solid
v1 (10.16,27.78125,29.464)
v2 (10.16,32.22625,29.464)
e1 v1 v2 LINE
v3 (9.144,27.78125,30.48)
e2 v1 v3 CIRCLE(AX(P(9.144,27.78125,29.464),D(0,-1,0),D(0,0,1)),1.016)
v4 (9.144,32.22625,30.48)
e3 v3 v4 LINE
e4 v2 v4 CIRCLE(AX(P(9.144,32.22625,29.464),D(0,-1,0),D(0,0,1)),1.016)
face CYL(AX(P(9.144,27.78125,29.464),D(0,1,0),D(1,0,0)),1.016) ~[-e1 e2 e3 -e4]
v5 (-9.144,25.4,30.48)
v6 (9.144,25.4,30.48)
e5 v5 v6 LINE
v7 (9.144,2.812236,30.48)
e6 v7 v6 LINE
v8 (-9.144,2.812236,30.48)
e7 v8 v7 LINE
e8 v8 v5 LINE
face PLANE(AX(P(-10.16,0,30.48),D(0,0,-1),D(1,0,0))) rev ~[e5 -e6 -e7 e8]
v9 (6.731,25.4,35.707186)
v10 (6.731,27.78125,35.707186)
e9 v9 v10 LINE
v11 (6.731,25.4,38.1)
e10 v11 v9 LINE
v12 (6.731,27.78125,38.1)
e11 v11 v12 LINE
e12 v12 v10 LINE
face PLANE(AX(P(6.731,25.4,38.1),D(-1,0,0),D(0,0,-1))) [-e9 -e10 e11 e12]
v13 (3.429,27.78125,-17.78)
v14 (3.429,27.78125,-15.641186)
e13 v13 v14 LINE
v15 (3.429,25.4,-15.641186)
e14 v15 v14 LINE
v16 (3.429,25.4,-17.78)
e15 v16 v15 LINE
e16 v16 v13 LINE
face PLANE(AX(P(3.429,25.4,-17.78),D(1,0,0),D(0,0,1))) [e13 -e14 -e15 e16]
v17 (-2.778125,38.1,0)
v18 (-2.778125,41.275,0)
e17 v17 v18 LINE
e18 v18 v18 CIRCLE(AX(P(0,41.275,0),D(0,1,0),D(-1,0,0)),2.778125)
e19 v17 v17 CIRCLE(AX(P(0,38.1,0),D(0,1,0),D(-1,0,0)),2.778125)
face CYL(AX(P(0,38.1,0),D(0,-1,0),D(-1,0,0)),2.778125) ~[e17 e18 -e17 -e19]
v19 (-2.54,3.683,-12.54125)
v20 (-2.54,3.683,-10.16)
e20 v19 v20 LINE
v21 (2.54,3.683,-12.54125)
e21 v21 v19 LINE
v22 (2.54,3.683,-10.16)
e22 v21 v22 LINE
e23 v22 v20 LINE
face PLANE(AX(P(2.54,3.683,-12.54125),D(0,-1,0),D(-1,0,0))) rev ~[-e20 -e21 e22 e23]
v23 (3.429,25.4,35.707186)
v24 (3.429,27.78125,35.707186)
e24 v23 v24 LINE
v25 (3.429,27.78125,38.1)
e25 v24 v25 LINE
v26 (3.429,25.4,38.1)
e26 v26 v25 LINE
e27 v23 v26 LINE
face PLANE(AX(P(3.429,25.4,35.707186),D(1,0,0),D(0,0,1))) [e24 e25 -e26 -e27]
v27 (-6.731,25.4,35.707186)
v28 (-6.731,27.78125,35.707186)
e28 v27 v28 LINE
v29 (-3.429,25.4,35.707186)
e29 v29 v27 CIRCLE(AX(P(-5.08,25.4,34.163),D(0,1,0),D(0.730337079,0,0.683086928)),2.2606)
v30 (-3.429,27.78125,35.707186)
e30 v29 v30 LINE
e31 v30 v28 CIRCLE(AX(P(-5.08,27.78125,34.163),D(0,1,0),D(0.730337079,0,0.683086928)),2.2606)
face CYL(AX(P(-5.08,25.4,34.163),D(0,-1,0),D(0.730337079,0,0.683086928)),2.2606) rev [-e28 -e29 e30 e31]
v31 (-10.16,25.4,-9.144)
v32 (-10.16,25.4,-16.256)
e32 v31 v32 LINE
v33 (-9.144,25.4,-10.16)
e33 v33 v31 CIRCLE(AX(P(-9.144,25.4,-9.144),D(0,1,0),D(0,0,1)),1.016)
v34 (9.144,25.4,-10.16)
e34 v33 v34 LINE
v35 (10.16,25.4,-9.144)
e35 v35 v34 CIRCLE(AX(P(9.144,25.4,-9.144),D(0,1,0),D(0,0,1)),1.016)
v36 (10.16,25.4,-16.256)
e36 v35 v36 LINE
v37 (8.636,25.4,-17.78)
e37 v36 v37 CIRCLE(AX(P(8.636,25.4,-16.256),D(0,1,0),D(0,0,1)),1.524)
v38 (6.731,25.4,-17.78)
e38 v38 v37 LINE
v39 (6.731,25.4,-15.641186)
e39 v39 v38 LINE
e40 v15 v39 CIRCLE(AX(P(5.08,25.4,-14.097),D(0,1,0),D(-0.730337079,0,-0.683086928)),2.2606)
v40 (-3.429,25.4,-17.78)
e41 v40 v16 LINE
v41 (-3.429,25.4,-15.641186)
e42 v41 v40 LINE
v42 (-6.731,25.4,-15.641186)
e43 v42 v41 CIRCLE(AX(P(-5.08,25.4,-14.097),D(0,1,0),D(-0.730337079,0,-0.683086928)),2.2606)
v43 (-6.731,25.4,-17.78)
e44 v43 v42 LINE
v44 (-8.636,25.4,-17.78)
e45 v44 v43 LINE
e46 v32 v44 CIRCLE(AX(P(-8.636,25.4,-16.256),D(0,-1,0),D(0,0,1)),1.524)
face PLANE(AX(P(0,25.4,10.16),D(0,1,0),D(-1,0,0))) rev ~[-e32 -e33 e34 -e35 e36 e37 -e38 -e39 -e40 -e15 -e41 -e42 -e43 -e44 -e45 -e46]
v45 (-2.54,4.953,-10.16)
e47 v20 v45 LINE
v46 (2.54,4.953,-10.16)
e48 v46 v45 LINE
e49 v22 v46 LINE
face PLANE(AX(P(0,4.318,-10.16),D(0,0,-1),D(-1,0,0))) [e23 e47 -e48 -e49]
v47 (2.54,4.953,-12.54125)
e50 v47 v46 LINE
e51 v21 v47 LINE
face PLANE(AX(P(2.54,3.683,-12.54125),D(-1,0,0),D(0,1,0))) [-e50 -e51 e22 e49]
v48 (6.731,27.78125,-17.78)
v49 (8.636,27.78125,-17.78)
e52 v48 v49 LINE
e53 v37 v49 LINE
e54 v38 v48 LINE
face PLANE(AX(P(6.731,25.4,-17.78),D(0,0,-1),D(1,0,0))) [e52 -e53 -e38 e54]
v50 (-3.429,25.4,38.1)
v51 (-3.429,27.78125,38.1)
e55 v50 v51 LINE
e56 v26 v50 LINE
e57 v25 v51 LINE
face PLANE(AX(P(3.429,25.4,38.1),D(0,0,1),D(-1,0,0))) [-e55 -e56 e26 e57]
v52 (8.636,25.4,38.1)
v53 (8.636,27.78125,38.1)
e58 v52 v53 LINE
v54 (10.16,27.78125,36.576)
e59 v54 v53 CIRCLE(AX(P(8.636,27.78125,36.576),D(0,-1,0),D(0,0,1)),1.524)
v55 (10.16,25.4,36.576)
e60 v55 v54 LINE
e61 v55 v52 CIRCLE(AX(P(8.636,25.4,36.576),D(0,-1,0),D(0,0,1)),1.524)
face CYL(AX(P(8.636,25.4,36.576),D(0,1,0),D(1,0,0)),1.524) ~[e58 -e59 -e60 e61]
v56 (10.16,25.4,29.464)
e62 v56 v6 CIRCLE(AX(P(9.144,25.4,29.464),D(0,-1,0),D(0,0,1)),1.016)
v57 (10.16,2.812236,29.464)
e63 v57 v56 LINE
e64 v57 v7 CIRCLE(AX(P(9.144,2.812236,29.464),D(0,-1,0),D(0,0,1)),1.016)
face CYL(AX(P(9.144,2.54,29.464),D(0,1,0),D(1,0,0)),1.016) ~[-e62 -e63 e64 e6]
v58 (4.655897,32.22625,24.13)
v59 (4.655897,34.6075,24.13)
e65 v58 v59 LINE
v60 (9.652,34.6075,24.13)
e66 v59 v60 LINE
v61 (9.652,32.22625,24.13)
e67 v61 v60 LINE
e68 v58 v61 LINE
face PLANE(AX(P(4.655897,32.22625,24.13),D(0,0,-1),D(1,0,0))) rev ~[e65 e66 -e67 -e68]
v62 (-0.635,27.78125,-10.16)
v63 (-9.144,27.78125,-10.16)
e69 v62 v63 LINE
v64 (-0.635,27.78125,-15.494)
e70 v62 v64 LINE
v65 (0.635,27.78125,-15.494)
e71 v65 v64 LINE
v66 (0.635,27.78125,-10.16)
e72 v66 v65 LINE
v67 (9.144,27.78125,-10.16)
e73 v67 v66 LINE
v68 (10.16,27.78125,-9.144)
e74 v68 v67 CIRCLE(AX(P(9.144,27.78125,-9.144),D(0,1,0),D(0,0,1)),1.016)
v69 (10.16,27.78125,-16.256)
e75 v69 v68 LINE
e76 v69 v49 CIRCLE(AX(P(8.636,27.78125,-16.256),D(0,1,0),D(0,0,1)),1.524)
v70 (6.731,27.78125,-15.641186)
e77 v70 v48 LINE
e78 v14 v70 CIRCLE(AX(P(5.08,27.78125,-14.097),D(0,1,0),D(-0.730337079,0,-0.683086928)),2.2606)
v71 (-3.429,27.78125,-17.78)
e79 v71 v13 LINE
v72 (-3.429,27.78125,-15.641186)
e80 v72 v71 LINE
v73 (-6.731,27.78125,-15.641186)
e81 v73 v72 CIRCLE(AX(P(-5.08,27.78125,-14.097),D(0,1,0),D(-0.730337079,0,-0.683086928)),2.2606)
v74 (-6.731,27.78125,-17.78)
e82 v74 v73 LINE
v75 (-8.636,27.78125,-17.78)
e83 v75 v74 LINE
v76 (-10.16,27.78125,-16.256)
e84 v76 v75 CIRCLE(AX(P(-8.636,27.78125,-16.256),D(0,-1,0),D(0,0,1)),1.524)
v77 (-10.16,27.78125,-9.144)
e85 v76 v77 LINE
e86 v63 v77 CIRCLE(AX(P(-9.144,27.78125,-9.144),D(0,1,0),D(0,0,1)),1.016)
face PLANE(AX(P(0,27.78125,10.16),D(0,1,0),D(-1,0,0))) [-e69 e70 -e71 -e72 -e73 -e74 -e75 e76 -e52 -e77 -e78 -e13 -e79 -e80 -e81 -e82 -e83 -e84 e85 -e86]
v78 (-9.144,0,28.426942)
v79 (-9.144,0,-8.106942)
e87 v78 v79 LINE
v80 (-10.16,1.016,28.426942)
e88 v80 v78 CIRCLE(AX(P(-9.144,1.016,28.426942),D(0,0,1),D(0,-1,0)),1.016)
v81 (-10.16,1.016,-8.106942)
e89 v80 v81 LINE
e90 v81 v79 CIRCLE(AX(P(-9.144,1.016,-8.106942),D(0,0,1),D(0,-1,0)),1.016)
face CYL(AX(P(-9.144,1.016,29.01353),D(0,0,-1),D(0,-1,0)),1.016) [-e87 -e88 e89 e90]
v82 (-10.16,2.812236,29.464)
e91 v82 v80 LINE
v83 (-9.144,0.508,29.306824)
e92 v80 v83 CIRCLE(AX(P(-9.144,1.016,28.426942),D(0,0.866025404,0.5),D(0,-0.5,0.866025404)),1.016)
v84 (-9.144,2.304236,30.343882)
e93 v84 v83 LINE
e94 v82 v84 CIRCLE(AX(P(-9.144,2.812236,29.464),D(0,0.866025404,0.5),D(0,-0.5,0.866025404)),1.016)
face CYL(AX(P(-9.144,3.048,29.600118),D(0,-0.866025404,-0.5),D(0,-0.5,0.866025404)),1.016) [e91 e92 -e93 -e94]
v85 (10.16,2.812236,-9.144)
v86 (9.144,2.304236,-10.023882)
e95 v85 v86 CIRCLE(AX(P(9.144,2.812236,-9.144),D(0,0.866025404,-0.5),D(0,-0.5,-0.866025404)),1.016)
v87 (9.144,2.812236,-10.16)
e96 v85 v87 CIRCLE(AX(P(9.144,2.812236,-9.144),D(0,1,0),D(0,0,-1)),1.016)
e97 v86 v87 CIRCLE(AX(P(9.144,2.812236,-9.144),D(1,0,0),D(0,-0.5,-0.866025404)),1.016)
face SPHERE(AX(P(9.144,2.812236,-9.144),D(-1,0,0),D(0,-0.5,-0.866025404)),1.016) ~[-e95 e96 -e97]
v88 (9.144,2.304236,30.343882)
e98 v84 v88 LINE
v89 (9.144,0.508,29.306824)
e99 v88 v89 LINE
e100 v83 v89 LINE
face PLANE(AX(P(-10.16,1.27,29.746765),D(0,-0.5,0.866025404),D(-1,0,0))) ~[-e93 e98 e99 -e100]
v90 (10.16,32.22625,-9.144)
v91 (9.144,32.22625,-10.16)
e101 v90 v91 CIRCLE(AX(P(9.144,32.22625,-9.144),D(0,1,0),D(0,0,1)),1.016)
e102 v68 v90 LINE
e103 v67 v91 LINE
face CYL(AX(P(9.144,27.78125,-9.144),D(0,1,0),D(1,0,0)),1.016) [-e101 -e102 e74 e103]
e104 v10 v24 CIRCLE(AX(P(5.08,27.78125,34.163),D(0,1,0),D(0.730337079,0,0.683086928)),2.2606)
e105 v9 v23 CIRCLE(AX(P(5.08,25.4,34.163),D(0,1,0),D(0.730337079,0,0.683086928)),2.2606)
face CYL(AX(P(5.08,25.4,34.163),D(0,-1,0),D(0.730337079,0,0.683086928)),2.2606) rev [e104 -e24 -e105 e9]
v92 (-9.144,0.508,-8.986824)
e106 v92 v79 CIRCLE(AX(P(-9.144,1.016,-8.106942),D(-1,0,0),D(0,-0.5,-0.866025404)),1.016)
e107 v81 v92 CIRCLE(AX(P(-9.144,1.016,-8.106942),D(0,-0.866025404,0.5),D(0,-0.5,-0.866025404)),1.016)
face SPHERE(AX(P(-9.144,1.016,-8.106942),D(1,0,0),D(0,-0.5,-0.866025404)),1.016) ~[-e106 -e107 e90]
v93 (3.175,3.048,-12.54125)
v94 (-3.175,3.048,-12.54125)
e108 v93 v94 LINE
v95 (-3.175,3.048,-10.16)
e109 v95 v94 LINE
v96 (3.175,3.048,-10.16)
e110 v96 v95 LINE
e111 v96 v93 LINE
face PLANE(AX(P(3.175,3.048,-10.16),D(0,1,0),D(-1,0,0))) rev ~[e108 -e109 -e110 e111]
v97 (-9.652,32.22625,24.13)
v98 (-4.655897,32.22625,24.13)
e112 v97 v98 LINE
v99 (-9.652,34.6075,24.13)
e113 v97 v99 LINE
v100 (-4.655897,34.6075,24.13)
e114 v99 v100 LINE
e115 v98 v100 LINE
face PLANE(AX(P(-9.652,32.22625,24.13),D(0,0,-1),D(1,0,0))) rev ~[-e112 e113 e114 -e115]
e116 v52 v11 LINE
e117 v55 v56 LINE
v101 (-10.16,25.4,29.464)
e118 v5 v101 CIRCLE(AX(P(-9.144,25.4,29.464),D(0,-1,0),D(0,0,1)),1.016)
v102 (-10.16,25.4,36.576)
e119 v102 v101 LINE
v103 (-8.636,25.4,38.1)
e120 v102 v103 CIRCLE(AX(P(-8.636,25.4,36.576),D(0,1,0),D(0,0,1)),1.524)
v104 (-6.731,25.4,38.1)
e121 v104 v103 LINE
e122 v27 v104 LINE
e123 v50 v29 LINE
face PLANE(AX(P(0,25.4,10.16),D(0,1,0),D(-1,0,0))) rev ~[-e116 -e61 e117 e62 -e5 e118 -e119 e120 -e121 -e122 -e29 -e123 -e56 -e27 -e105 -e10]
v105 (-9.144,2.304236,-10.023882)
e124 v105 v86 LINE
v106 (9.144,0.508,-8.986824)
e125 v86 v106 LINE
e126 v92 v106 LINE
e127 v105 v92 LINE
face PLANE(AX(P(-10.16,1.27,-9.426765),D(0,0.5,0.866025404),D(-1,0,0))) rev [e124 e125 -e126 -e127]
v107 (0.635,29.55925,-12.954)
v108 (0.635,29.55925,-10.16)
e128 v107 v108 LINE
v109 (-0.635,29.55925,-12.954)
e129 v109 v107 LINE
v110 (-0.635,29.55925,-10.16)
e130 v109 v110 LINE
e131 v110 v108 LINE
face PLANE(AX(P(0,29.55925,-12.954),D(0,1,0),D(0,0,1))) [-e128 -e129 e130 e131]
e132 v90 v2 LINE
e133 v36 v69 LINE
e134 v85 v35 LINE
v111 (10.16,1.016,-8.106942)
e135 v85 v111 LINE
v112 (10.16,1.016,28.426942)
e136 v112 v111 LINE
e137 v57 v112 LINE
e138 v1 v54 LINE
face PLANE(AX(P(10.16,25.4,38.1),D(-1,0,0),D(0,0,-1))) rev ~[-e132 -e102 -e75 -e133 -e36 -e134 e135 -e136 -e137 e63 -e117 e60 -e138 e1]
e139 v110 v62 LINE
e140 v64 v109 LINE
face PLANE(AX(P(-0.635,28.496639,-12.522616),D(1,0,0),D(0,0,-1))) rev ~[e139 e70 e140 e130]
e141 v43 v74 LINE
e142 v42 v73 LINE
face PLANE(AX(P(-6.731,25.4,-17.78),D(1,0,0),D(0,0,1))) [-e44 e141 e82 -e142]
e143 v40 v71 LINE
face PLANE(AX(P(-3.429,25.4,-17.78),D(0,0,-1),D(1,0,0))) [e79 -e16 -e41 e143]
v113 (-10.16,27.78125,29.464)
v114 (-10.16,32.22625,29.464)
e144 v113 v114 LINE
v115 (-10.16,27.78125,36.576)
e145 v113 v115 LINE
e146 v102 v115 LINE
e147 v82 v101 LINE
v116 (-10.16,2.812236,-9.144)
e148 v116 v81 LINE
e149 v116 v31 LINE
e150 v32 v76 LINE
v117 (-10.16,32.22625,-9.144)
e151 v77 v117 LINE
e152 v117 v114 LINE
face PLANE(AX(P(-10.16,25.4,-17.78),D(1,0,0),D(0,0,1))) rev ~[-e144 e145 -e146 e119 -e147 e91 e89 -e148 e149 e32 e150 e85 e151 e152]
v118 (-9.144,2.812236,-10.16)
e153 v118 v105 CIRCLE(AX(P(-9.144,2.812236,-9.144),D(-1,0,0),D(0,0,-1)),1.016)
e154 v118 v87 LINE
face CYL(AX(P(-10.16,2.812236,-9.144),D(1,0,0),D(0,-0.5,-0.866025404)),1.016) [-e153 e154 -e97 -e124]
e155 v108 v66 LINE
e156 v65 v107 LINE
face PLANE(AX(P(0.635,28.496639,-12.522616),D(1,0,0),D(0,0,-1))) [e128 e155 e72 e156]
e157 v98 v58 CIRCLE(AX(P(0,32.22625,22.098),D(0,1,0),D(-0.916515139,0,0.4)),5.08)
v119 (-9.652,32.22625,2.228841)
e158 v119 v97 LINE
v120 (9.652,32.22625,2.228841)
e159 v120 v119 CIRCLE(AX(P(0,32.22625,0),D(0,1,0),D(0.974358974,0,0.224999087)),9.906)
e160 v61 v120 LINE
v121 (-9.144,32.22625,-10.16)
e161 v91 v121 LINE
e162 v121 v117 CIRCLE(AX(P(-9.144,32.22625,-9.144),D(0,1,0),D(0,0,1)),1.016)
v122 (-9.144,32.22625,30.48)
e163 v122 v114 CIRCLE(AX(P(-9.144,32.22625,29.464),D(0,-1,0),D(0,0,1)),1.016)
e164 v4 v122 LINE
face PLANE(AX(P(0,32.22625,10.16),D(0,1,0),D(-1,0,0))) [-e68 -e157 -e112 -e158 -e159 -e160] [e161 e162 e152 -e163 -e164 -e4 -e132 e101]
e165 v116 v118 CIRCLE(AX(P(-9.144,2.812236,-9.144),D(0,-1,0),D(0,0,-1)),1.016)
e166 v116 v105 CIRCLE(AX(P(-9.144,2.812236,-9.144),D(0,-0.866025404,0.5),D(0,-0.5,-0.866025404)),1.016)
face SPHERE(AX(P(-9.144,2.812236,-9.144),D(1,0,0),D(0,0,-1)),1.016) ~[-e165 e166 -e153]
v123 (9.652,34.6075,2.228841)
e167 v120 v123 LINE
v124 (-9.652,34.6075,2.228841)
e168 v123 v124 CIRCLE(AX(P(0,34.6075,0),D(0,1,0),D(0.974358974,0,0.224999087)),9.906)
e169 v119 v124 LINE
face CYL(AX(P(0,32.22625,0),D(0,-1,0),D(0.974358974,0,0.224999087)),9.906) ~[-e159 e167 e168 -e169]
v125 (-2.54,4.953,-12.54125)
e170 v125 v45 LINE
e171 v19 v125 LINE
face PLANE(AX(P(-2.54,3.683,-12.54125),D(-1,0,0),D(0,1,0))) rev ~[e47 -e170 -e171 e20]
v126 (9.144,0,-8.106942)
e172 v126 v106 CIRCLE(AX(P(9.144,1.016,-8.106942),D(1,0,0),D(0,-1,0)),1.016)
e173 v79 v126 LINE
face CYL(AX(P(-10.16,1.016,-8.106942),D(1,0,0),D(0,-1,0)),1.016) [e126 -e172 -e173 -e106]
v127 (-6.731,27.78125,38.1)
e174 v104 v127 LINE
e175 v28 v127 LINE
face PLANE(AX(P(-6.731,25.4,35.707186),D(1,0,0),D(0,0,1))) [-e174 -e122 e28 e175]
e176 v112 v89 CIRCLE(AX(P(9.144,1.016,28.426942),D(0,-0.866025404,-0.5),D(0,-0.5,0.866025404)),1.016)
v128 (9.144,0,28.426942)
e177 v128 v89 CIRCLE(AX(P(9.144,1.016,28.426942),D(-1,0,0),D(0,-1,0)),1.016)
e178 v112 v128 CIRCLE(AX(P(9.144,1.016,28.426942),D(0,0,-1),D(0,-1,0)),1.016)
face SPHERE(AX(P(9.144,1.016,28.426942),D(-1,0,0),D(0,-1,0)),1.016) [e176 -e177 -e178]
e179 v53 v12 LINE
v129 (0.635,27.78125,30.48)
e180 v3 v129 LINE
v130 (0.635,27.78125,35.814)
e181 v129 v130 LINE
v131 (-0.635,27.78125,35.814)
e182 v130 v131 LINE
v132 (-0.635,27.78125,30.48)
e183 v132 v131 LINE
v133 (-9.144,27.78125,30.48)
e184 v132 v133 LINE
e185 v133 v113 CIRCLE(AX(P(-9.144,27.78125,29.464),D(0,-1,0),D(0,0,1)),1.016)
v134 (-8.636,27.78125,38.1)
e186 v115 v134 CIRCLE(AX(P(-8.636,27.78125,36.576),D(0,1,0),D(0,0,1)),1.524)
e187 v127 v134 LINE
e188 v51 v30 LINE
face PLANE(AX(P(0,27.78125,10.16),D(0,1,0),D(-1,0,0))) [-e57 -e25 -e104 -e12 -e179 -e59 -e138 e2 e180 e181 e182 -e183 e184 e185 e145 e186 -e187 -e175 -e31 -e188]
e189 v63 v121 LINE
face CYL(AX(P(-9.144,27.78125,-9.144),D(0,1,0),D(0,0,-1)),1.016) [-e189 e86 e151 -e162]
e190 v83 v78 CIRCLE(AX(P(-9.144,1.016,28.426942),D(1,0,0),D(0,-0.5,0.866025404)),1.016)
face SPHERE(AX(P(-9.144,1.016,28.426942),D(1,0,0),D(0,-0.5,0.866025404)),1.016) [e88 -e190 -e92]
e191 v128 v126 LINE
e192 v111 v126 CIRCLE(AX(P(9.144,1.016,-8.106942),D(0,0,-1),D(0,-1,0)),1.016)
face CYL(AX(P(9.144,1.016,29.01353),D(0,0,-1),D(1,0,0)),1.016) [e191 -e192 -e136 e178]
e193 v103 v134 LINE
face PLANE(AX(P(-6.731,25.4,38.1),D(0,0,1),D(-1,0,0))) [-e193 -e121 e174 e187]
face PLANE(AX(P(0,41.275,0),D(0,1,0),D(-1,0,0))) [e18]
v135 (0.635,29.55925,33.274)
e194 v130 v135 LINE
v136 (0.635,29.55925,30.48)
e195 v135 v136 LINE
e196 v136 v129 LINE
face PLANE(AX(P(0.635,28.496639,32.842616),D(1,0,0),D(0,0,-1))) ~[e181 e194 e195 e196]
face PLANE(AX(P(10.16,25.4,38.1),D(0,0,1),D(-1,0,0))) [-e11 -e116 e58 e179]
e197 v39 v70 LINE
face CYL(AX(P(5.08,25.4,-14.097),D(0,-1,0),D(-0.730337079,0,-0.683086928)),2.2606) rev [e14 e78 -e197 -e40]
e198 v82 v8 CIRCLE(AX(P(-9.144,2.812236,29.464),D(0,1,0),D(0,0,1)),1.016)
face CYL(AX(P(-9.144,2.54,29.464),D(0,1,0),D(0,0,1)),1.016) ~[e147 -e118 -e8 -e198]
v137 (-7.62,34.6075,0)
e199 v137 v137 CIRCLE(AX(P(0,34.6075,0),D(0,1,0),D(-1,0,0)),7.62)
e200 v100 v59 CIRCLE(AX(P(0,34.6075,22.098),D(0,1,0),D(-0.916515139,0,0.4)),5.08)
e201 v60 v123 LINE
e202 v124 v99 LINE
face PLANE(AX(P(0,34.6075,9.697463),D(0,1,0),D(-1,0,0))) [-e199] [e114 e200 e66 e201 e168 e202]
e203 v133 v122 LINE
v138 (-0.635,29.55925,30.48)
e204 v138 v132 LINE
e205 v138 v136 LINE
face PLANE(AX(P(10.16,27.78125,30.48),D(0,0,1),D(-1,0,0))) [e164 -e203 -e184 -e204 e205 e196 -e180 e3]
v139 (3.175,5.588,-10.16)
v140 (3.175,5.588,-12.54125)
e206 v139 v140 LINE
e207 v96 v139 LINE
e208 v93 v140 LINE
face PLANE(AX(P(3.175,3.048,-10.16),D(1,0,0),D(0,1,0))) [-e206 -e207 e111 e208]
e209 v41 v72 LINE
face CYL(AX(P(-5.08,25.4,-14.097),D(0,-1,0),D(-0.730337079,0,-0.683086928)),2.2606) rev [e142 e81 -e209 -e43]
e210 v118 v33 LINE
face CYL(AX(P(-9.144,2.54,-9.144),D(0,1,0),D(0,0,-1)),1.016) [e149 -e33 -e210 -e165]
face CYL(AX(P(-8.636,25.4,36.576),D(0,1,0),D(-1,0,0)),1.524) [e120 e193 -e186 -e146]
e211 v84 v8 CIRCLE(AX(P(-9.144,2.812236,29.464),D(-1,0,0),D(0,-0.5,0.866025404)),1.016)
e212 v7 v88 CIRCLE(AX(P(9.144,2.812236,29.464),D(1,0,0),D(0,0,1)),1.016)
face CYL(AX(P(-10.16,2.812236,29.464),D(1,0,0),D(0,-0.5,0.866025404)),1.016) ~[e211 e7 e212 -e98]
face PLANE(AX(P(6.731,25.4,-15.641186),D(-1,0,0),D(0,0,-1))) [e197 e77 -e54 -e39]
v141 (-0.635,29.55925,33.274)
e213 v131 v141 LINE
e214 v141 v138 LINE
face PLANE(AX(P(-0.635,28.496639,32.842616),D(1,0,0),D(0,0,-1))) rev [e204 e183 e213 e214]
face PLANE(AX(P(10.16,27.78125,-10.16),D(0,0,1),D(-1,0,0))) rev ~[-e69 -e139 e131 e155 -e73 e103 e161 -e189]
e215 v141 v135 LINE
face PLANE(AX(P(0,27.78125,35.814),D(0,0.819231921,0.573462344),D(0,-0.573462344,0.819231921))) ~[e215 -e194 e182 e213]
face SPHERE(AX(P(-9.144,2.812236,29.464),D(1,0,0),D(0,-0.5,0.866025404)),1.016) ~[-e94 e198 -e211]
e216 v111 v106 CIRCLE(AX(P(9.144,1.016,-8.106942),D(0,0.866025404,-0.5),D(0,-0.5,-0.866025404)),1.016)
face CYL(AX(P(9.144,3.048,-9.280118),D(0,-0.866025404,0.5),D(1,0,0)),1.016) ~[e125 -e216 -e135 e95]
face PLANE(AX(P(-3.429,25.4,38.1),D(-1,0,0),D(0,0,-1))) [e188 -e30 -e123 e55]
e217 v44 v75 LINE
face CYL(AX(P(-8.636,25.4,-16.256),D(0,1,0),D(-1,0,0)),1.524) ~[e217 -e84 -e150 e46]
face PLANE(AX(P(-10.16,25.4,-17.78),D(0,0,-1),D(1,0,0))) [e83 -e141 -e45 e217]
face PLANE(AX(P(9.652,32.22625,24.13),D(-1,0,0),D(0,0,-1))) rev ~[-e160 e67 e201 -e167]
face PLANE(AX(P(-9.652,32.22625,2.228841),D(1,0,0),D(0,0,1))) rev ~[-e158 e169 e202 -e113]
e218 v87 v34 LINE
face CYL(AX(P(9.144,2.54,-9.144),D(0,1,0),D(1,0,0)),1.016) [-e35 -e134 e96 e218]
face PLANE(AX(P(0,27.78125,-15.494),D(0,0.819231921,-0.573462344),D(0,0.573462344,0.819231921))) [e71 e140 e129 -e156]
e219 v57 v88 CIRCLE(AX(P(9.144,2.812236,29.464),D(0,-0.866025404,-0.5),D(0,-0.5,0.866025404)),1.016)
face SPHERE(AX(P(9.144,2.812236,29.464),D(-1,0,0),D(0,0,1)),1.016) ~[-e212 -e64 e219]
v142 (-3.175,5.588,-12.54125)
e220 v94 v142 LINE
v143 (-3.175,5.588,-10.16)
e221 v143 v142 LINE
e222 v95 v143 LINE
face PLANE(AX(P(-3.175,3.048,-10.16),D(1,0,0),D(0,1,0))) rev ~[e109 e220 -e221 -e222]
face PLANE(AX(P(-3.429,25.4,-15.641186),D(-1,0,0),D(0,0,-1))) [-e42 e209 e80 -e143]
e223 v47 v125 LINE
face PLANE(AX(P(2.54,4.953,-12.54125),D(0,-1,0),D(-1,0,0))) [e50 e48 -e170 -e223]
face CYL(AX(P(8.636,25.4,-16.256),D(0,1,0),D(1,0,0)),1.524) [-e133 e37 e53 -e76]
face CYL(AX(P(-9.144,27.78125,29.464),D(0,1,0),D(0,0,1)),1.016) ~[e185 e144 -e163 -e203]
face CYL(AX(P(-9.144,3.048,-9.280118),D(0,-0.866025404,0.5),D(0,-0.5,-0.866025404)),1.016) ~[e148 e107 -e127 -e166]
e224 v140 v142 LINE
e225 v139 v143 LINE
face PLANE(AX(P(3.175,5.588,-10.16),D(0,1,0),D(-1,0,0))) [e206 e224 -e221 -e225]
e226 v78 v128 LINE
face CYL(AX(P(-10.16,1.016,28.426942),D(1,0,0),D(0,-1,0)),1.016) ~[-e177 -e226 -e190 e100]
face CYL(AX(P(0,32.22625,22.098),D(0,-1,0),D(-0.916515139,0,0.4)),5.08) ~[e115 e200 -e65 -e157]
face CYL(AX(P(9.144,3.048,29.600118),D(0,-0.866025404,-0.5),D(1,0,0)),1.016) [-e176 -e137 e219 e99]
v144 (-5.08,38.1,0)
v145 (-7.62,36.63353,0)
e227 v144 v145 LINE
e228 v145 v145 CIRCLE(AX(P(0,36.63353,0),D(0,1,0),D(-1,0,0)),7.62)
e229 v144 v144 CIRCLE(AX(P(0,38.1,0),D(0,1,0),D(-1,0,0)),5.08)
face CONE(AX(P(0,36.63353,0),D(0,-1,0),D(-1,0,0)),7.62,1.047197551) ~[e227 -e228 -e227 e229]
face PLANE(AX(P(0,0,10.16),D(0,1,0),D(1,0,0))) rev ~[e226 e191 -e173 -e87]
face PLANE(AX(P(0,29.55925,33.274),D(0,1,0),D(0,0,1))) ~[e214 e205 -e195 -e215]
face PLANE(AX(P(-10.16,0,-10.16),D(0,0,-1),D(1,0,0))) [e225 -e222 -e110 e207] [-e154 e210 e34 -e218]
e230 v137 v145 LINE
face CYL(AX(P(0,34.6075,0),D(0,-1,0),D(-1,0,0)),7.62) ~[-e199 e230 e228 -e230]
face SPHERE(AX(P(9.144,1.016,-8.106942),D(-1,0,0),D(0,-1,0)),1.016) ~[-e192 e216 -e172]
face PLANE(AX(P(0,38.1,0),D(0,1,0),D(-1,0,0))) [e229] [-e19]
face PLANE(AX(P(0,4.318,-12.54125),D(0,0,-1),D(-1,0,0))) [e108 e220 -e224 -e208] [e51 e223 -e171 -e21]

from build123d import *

# Parameters (mm, degrees)
SKETCH1_W             = 20.32
SKETCH1_H             = 40.64
EXTRUDE1_DEPTH        = 25.4
SKETCH2_W             = 20.32
SKETCH2_H             = 40.64
EXTRUDE2_DEPTH        = 2.38125
SKETCH3_W             = 20.32
SKETCH3_H             = 40.64
EXTRUDE3_DEPTH        = 4.445
EXTRUDE4_DEPTH        = 2.38125
SKETCH5_R             = 7.62
EXTRUDE5_DEPTH        = 3.4925
CHAMFER1_SIZE         = 2.54
CHAMFER1_SIZE2        = 1.466469684
EXTRUDE6_DEPTH        = 0.635
SKETCH8_R             = 2.778125
EXTRUDE7_DEPTH        = 3.175
CHAMFER2_SIZE         = 2.54
CHAMFER2_SIZE2        = 1.466469684
CHAMFER2_PART_2_SIZE  = 2.54
CHAMFER2_PART_2_SIZE2 = 1.466469684
FILLET1_R             = 1.016
FILLET2_R             = 1.524
SKETCH9_W             = 6.35
SKETCH9_H             = 2.54
EXTRUDE8_DEPTH        = 2.38125
SKETCH10_W            = 5.08
SKETCH10_H            = 1.27
CUT_EXTRUDE1_DEPTH    = 2.38125


with BuildPart() as part:
    # Sketch1 → Extrude1 (new body)
    with BuildSketch(Plane(origin=(0, 0, 0), x_dir=(1, 0, 0), z_dir=(0, 1, 0))):
        with Locations((0, -10.16)):
            Rectangle(SKETCH1_W, SKETCH1_H)
    extrude(amount=EXTRUDE1_DEPTH)

    # Sketch2 → Extrude2 (add)
    with BuildSketch(Plane(origin=(0, 25.4, 0), x_dir=(-1, 0, 0), z_dir=(0, 1, 0))):
        with Locations((0, 10.16)):
            Rectangle(SKETCH2_W, SKETCH2_H)
        with BuildLine():
            ThreePointArc((6.731, -15.64118631), (5.08, -11.8364), (3.429, -15.64118631))
            Line((3.429, -15.64118631), (3.429, -17.78))
            Line((3.429, -17.78), (-3.429, -17.78))
            Line((-3.429, -17.78), (-3.429, -15.64118631))
            ThreePointArc((-3.429, -15.64118631), (-5.08, -11.8364), (-6.731, -15.64118631))
            Line((-6.731, -15.64118631), (-6.731, -17.78))
            Line((-6.731, -17.78), (-10.16, -17.78))
            Line((-10.16, -17.78), (-10.16, -10.16))
            Line((-10.16, -10.16), (10.16, -10.16))
            Line((10.16, -10.16), (10.16, -17.78))
            Line((10.16, -17.78), (6.731, -17.78))
            Line((6.731, -17.78), (6.731, -15.64118631))
        make_face()
        with BuildLine():
            ThreePointArc((-6.731, 35.70718631), (-5.08, 31.9024), (-3.429, 35.70718631))
            Line((-3.429, 35.70718631), (-3.429, 38.1))
            Line((-3.429, 38.1), (3.429, 38.1))
            Line((3.429, 38.1), (3.429, 35.70718631))
            ThreePointArc((3.429, 35.70718631), (5.08, 31.9024), (6.731, 35.70718631))
            Line((6.731, 35.70718631), (6.731, 38.1))
            Line((6.731, 38.1), (10.16, 38.1))
            Line((10.16, 38.1), (10.16, 30.48))
            Line((10.16, 30.48), (-10.16, 30.48))
            Line((-10.16, 30.48), (-10.16, 38.1))
            Line((-10.16, 38.1), (-6.731, 38.1))
            Line((-6.731, 38.1), (-6.731, 35.70718631))
        make_face()
    extrude(amount=EXTRUDE2_DEPTH)

    # Sketch3 → Extrude3 (add)
    with BuildSketch(Plane(origin=(0, 27.78125, 0), x_dir=(-1, 0, 0), z_dir=(0, 1, 0))):
        with Locations((0, 10.16)):
            Rectangle(SKETCH3_W, SKETCH3_H)
    extrude(amount=EXTRUDE3_DEPTH)

    # Sketch4 → Extrude4 (add)
    with BuildSketch(Plane(origin=(0, 32.22625, 0), x_dir=(-1, 0, 0), z_dir=(0, 1, 0))):
        with BuildLine():
            Line((9.652, 2.228840954), (9.652, 24.13))
            Line((9.652, 24.13), (4.655896906, 24.13))
            ThreePointArc((4.655896906, 24.13), (0, 27.178), (-4.655896906, 24.13))
            Line((-4.655896906, 24.13), (-9.652, 24.13))
            Line((-9.652, 24.13), (-9.652, 2.228840954))
            ThreePointArc((-9.652, 2.228840954), (0, -9.906), (9.652, 2.228840954))
        make_face()
    extrude(amount=EXTRUDE4_DEPTH)

    # Sketch5 → Extrude5 (add)
    with BuildSketch(Plane(origin=(0, 34.6075, 0), x_dir=(-1, 0, 0), z_dir=(0, 1, 0))):
        Circle(SKETCH5_R)
    extrude(amount=EXTRUDE5_DEPTH)

    # Chamfer1
    chamfer1_edges = [part.edges().sort_by_distance(p)[0] for p in [
        (7.62, 38.1, 0),
    ]]
    chamfer1_side = [part.faces().sort_by_distance(p)[0] for p in [
        (0, 38.1, 0),
    ]]
    chamfer(chamfer1_edges, length=CHAMFER1_SIZE, length2=CHAMFER1_SIZE2, reference=chamfer1_side[0])

    # Sketch7 → Extrude6 (add, symmetric)
    with BuildSketch(Plane(origin=(0, 0, 0), x_dir=(0, 0, -1), z_dir=(1, 0, 0))):
        Polygon((15.494, 27.78125), (12.954, 29.55925), (10.16, 29.55925), (10.16, 27.78125), align=None)
    extrude6 = extrude(amount=EXTRUDE6_DEPTH, both=True)

    # Mirror1: Extrude6 across plane
    add(extrude6.mirror(Plane(origin=(0, 0, 10.16), x_dir=(1, 0, 0), z_dir=(0, 0, -1))))

    # Sketch8 → Extrude7 (add)
    with BuildSketch(Plane(origin=(0, 38.1, 0), x_dir=(-1, 0, 0), z_dir=(0, 1, 0))):
        Circle(SKETCH8_R)
    extrude(amount=EXTRUDE7_DEPTH)

    # Chamfer2
    chamfer2_edges = [part.edges().sort_by_distance(p)[0] for p in [
        (0, 0, -10.16),
    ]]
    chamfer2_side = [part.faces().sort_by_distance(p)[0] for p in [
        (0, 12.7, -10.16),
    ]]
    chamfer(chamfer2_edges, length=CHAMFER2_SIZE, length2=CHAMFER2_SIZE2, reference=chamfer2_side[0])

    # Chamfer2 part 2
    chamfer2_part_2_edges = [part.edges().sort_by_distance(p)[0] for p in [
        (0, 0, 30.48),
    ]]
    chamfer2_part_2_side = [part.faces().sort_by_distance(p)[0] for p in [
        (0, 12.7, 30.48),
    ]]
    chamfer(chamfer2_part_2_edges, length=CHAMFER2_PART_2_SIZE, length2=CHAMFER2_PART_2_SIZE2, reference=chamfer2_part_2_side[0])

    # Fillet1
    fillet1_edges = [part.edges().sort_by_distance(p)[0] for p in [
        (-10.16, 30.00375, -10.16),
        (10.16, 30.00375, -10.16),
        (10.16, 30.00375, 30.48),
        (10.16, 0, 10.16),
        (10.16, 1.27, -9.426765158),
        (10.16, 13.97, -10.16),
        (0, 0, -8.693530316),
        (0, 2.54, -10.16),
        (-10.16, 13.97, -10.16),
        (-10.16, 1.27, -9.426765158),
        (10.16, 13.97, 30.48),
        (10.16, 1.27, 29.746765158),
        (0, 2.54, 30.48),
        (-10.16, 0, 10.16),
        (0, 0, 29.013530316),
        (-10.16, 1.27, 29.746765158),
        (-10.16, 13.97, 30.48),
        (-10.16, 30.00375, 30.48),
    ]]
    fillet(fillet1_edges, radius=FILLET1_R)

    # Fillet2
    fillet2_edges = [part.edges().sort_by_distance(p)[0] for p in [
        (-10.16, 26.590625, 38.1),
        (10.16, 26.590625, 38.1),
        (-10.16, 26.590625, -17.78),
        (10.16, 26.590625, -17.78),
    ]]
    fillet(fillet2_edges, radius=FILLET2_R)

    # Sketch9 → Extrude8 (add)
    with BuildSketch(Plane(origin=(0, 0, -10.16), x_dir=(-1, 0, 0), z_dir=(0, 0, -1))):
        with Locations((0, 4.318)):
            Rectangle(SKETCH9_W, SKETCH9_H)
    extrude(amount=EXTRUDE8_DEPTH)

    # Sketch10 → Cut-Extrude1 (cut)
    with BuildSketch(Plane(origin=(0, 0, -12.54125), x_dir=(-1, 0, 0), z_dir=(0, 0, -1))):
        with Locations((0, 4.318)):
            Rectangle(SKETCH10_W, SKETCH10_H)
    extrude(amount=-CUT_EXTRUDE1_DEPTH, mode=Mode.SUBTRACT)


solid = part.part
